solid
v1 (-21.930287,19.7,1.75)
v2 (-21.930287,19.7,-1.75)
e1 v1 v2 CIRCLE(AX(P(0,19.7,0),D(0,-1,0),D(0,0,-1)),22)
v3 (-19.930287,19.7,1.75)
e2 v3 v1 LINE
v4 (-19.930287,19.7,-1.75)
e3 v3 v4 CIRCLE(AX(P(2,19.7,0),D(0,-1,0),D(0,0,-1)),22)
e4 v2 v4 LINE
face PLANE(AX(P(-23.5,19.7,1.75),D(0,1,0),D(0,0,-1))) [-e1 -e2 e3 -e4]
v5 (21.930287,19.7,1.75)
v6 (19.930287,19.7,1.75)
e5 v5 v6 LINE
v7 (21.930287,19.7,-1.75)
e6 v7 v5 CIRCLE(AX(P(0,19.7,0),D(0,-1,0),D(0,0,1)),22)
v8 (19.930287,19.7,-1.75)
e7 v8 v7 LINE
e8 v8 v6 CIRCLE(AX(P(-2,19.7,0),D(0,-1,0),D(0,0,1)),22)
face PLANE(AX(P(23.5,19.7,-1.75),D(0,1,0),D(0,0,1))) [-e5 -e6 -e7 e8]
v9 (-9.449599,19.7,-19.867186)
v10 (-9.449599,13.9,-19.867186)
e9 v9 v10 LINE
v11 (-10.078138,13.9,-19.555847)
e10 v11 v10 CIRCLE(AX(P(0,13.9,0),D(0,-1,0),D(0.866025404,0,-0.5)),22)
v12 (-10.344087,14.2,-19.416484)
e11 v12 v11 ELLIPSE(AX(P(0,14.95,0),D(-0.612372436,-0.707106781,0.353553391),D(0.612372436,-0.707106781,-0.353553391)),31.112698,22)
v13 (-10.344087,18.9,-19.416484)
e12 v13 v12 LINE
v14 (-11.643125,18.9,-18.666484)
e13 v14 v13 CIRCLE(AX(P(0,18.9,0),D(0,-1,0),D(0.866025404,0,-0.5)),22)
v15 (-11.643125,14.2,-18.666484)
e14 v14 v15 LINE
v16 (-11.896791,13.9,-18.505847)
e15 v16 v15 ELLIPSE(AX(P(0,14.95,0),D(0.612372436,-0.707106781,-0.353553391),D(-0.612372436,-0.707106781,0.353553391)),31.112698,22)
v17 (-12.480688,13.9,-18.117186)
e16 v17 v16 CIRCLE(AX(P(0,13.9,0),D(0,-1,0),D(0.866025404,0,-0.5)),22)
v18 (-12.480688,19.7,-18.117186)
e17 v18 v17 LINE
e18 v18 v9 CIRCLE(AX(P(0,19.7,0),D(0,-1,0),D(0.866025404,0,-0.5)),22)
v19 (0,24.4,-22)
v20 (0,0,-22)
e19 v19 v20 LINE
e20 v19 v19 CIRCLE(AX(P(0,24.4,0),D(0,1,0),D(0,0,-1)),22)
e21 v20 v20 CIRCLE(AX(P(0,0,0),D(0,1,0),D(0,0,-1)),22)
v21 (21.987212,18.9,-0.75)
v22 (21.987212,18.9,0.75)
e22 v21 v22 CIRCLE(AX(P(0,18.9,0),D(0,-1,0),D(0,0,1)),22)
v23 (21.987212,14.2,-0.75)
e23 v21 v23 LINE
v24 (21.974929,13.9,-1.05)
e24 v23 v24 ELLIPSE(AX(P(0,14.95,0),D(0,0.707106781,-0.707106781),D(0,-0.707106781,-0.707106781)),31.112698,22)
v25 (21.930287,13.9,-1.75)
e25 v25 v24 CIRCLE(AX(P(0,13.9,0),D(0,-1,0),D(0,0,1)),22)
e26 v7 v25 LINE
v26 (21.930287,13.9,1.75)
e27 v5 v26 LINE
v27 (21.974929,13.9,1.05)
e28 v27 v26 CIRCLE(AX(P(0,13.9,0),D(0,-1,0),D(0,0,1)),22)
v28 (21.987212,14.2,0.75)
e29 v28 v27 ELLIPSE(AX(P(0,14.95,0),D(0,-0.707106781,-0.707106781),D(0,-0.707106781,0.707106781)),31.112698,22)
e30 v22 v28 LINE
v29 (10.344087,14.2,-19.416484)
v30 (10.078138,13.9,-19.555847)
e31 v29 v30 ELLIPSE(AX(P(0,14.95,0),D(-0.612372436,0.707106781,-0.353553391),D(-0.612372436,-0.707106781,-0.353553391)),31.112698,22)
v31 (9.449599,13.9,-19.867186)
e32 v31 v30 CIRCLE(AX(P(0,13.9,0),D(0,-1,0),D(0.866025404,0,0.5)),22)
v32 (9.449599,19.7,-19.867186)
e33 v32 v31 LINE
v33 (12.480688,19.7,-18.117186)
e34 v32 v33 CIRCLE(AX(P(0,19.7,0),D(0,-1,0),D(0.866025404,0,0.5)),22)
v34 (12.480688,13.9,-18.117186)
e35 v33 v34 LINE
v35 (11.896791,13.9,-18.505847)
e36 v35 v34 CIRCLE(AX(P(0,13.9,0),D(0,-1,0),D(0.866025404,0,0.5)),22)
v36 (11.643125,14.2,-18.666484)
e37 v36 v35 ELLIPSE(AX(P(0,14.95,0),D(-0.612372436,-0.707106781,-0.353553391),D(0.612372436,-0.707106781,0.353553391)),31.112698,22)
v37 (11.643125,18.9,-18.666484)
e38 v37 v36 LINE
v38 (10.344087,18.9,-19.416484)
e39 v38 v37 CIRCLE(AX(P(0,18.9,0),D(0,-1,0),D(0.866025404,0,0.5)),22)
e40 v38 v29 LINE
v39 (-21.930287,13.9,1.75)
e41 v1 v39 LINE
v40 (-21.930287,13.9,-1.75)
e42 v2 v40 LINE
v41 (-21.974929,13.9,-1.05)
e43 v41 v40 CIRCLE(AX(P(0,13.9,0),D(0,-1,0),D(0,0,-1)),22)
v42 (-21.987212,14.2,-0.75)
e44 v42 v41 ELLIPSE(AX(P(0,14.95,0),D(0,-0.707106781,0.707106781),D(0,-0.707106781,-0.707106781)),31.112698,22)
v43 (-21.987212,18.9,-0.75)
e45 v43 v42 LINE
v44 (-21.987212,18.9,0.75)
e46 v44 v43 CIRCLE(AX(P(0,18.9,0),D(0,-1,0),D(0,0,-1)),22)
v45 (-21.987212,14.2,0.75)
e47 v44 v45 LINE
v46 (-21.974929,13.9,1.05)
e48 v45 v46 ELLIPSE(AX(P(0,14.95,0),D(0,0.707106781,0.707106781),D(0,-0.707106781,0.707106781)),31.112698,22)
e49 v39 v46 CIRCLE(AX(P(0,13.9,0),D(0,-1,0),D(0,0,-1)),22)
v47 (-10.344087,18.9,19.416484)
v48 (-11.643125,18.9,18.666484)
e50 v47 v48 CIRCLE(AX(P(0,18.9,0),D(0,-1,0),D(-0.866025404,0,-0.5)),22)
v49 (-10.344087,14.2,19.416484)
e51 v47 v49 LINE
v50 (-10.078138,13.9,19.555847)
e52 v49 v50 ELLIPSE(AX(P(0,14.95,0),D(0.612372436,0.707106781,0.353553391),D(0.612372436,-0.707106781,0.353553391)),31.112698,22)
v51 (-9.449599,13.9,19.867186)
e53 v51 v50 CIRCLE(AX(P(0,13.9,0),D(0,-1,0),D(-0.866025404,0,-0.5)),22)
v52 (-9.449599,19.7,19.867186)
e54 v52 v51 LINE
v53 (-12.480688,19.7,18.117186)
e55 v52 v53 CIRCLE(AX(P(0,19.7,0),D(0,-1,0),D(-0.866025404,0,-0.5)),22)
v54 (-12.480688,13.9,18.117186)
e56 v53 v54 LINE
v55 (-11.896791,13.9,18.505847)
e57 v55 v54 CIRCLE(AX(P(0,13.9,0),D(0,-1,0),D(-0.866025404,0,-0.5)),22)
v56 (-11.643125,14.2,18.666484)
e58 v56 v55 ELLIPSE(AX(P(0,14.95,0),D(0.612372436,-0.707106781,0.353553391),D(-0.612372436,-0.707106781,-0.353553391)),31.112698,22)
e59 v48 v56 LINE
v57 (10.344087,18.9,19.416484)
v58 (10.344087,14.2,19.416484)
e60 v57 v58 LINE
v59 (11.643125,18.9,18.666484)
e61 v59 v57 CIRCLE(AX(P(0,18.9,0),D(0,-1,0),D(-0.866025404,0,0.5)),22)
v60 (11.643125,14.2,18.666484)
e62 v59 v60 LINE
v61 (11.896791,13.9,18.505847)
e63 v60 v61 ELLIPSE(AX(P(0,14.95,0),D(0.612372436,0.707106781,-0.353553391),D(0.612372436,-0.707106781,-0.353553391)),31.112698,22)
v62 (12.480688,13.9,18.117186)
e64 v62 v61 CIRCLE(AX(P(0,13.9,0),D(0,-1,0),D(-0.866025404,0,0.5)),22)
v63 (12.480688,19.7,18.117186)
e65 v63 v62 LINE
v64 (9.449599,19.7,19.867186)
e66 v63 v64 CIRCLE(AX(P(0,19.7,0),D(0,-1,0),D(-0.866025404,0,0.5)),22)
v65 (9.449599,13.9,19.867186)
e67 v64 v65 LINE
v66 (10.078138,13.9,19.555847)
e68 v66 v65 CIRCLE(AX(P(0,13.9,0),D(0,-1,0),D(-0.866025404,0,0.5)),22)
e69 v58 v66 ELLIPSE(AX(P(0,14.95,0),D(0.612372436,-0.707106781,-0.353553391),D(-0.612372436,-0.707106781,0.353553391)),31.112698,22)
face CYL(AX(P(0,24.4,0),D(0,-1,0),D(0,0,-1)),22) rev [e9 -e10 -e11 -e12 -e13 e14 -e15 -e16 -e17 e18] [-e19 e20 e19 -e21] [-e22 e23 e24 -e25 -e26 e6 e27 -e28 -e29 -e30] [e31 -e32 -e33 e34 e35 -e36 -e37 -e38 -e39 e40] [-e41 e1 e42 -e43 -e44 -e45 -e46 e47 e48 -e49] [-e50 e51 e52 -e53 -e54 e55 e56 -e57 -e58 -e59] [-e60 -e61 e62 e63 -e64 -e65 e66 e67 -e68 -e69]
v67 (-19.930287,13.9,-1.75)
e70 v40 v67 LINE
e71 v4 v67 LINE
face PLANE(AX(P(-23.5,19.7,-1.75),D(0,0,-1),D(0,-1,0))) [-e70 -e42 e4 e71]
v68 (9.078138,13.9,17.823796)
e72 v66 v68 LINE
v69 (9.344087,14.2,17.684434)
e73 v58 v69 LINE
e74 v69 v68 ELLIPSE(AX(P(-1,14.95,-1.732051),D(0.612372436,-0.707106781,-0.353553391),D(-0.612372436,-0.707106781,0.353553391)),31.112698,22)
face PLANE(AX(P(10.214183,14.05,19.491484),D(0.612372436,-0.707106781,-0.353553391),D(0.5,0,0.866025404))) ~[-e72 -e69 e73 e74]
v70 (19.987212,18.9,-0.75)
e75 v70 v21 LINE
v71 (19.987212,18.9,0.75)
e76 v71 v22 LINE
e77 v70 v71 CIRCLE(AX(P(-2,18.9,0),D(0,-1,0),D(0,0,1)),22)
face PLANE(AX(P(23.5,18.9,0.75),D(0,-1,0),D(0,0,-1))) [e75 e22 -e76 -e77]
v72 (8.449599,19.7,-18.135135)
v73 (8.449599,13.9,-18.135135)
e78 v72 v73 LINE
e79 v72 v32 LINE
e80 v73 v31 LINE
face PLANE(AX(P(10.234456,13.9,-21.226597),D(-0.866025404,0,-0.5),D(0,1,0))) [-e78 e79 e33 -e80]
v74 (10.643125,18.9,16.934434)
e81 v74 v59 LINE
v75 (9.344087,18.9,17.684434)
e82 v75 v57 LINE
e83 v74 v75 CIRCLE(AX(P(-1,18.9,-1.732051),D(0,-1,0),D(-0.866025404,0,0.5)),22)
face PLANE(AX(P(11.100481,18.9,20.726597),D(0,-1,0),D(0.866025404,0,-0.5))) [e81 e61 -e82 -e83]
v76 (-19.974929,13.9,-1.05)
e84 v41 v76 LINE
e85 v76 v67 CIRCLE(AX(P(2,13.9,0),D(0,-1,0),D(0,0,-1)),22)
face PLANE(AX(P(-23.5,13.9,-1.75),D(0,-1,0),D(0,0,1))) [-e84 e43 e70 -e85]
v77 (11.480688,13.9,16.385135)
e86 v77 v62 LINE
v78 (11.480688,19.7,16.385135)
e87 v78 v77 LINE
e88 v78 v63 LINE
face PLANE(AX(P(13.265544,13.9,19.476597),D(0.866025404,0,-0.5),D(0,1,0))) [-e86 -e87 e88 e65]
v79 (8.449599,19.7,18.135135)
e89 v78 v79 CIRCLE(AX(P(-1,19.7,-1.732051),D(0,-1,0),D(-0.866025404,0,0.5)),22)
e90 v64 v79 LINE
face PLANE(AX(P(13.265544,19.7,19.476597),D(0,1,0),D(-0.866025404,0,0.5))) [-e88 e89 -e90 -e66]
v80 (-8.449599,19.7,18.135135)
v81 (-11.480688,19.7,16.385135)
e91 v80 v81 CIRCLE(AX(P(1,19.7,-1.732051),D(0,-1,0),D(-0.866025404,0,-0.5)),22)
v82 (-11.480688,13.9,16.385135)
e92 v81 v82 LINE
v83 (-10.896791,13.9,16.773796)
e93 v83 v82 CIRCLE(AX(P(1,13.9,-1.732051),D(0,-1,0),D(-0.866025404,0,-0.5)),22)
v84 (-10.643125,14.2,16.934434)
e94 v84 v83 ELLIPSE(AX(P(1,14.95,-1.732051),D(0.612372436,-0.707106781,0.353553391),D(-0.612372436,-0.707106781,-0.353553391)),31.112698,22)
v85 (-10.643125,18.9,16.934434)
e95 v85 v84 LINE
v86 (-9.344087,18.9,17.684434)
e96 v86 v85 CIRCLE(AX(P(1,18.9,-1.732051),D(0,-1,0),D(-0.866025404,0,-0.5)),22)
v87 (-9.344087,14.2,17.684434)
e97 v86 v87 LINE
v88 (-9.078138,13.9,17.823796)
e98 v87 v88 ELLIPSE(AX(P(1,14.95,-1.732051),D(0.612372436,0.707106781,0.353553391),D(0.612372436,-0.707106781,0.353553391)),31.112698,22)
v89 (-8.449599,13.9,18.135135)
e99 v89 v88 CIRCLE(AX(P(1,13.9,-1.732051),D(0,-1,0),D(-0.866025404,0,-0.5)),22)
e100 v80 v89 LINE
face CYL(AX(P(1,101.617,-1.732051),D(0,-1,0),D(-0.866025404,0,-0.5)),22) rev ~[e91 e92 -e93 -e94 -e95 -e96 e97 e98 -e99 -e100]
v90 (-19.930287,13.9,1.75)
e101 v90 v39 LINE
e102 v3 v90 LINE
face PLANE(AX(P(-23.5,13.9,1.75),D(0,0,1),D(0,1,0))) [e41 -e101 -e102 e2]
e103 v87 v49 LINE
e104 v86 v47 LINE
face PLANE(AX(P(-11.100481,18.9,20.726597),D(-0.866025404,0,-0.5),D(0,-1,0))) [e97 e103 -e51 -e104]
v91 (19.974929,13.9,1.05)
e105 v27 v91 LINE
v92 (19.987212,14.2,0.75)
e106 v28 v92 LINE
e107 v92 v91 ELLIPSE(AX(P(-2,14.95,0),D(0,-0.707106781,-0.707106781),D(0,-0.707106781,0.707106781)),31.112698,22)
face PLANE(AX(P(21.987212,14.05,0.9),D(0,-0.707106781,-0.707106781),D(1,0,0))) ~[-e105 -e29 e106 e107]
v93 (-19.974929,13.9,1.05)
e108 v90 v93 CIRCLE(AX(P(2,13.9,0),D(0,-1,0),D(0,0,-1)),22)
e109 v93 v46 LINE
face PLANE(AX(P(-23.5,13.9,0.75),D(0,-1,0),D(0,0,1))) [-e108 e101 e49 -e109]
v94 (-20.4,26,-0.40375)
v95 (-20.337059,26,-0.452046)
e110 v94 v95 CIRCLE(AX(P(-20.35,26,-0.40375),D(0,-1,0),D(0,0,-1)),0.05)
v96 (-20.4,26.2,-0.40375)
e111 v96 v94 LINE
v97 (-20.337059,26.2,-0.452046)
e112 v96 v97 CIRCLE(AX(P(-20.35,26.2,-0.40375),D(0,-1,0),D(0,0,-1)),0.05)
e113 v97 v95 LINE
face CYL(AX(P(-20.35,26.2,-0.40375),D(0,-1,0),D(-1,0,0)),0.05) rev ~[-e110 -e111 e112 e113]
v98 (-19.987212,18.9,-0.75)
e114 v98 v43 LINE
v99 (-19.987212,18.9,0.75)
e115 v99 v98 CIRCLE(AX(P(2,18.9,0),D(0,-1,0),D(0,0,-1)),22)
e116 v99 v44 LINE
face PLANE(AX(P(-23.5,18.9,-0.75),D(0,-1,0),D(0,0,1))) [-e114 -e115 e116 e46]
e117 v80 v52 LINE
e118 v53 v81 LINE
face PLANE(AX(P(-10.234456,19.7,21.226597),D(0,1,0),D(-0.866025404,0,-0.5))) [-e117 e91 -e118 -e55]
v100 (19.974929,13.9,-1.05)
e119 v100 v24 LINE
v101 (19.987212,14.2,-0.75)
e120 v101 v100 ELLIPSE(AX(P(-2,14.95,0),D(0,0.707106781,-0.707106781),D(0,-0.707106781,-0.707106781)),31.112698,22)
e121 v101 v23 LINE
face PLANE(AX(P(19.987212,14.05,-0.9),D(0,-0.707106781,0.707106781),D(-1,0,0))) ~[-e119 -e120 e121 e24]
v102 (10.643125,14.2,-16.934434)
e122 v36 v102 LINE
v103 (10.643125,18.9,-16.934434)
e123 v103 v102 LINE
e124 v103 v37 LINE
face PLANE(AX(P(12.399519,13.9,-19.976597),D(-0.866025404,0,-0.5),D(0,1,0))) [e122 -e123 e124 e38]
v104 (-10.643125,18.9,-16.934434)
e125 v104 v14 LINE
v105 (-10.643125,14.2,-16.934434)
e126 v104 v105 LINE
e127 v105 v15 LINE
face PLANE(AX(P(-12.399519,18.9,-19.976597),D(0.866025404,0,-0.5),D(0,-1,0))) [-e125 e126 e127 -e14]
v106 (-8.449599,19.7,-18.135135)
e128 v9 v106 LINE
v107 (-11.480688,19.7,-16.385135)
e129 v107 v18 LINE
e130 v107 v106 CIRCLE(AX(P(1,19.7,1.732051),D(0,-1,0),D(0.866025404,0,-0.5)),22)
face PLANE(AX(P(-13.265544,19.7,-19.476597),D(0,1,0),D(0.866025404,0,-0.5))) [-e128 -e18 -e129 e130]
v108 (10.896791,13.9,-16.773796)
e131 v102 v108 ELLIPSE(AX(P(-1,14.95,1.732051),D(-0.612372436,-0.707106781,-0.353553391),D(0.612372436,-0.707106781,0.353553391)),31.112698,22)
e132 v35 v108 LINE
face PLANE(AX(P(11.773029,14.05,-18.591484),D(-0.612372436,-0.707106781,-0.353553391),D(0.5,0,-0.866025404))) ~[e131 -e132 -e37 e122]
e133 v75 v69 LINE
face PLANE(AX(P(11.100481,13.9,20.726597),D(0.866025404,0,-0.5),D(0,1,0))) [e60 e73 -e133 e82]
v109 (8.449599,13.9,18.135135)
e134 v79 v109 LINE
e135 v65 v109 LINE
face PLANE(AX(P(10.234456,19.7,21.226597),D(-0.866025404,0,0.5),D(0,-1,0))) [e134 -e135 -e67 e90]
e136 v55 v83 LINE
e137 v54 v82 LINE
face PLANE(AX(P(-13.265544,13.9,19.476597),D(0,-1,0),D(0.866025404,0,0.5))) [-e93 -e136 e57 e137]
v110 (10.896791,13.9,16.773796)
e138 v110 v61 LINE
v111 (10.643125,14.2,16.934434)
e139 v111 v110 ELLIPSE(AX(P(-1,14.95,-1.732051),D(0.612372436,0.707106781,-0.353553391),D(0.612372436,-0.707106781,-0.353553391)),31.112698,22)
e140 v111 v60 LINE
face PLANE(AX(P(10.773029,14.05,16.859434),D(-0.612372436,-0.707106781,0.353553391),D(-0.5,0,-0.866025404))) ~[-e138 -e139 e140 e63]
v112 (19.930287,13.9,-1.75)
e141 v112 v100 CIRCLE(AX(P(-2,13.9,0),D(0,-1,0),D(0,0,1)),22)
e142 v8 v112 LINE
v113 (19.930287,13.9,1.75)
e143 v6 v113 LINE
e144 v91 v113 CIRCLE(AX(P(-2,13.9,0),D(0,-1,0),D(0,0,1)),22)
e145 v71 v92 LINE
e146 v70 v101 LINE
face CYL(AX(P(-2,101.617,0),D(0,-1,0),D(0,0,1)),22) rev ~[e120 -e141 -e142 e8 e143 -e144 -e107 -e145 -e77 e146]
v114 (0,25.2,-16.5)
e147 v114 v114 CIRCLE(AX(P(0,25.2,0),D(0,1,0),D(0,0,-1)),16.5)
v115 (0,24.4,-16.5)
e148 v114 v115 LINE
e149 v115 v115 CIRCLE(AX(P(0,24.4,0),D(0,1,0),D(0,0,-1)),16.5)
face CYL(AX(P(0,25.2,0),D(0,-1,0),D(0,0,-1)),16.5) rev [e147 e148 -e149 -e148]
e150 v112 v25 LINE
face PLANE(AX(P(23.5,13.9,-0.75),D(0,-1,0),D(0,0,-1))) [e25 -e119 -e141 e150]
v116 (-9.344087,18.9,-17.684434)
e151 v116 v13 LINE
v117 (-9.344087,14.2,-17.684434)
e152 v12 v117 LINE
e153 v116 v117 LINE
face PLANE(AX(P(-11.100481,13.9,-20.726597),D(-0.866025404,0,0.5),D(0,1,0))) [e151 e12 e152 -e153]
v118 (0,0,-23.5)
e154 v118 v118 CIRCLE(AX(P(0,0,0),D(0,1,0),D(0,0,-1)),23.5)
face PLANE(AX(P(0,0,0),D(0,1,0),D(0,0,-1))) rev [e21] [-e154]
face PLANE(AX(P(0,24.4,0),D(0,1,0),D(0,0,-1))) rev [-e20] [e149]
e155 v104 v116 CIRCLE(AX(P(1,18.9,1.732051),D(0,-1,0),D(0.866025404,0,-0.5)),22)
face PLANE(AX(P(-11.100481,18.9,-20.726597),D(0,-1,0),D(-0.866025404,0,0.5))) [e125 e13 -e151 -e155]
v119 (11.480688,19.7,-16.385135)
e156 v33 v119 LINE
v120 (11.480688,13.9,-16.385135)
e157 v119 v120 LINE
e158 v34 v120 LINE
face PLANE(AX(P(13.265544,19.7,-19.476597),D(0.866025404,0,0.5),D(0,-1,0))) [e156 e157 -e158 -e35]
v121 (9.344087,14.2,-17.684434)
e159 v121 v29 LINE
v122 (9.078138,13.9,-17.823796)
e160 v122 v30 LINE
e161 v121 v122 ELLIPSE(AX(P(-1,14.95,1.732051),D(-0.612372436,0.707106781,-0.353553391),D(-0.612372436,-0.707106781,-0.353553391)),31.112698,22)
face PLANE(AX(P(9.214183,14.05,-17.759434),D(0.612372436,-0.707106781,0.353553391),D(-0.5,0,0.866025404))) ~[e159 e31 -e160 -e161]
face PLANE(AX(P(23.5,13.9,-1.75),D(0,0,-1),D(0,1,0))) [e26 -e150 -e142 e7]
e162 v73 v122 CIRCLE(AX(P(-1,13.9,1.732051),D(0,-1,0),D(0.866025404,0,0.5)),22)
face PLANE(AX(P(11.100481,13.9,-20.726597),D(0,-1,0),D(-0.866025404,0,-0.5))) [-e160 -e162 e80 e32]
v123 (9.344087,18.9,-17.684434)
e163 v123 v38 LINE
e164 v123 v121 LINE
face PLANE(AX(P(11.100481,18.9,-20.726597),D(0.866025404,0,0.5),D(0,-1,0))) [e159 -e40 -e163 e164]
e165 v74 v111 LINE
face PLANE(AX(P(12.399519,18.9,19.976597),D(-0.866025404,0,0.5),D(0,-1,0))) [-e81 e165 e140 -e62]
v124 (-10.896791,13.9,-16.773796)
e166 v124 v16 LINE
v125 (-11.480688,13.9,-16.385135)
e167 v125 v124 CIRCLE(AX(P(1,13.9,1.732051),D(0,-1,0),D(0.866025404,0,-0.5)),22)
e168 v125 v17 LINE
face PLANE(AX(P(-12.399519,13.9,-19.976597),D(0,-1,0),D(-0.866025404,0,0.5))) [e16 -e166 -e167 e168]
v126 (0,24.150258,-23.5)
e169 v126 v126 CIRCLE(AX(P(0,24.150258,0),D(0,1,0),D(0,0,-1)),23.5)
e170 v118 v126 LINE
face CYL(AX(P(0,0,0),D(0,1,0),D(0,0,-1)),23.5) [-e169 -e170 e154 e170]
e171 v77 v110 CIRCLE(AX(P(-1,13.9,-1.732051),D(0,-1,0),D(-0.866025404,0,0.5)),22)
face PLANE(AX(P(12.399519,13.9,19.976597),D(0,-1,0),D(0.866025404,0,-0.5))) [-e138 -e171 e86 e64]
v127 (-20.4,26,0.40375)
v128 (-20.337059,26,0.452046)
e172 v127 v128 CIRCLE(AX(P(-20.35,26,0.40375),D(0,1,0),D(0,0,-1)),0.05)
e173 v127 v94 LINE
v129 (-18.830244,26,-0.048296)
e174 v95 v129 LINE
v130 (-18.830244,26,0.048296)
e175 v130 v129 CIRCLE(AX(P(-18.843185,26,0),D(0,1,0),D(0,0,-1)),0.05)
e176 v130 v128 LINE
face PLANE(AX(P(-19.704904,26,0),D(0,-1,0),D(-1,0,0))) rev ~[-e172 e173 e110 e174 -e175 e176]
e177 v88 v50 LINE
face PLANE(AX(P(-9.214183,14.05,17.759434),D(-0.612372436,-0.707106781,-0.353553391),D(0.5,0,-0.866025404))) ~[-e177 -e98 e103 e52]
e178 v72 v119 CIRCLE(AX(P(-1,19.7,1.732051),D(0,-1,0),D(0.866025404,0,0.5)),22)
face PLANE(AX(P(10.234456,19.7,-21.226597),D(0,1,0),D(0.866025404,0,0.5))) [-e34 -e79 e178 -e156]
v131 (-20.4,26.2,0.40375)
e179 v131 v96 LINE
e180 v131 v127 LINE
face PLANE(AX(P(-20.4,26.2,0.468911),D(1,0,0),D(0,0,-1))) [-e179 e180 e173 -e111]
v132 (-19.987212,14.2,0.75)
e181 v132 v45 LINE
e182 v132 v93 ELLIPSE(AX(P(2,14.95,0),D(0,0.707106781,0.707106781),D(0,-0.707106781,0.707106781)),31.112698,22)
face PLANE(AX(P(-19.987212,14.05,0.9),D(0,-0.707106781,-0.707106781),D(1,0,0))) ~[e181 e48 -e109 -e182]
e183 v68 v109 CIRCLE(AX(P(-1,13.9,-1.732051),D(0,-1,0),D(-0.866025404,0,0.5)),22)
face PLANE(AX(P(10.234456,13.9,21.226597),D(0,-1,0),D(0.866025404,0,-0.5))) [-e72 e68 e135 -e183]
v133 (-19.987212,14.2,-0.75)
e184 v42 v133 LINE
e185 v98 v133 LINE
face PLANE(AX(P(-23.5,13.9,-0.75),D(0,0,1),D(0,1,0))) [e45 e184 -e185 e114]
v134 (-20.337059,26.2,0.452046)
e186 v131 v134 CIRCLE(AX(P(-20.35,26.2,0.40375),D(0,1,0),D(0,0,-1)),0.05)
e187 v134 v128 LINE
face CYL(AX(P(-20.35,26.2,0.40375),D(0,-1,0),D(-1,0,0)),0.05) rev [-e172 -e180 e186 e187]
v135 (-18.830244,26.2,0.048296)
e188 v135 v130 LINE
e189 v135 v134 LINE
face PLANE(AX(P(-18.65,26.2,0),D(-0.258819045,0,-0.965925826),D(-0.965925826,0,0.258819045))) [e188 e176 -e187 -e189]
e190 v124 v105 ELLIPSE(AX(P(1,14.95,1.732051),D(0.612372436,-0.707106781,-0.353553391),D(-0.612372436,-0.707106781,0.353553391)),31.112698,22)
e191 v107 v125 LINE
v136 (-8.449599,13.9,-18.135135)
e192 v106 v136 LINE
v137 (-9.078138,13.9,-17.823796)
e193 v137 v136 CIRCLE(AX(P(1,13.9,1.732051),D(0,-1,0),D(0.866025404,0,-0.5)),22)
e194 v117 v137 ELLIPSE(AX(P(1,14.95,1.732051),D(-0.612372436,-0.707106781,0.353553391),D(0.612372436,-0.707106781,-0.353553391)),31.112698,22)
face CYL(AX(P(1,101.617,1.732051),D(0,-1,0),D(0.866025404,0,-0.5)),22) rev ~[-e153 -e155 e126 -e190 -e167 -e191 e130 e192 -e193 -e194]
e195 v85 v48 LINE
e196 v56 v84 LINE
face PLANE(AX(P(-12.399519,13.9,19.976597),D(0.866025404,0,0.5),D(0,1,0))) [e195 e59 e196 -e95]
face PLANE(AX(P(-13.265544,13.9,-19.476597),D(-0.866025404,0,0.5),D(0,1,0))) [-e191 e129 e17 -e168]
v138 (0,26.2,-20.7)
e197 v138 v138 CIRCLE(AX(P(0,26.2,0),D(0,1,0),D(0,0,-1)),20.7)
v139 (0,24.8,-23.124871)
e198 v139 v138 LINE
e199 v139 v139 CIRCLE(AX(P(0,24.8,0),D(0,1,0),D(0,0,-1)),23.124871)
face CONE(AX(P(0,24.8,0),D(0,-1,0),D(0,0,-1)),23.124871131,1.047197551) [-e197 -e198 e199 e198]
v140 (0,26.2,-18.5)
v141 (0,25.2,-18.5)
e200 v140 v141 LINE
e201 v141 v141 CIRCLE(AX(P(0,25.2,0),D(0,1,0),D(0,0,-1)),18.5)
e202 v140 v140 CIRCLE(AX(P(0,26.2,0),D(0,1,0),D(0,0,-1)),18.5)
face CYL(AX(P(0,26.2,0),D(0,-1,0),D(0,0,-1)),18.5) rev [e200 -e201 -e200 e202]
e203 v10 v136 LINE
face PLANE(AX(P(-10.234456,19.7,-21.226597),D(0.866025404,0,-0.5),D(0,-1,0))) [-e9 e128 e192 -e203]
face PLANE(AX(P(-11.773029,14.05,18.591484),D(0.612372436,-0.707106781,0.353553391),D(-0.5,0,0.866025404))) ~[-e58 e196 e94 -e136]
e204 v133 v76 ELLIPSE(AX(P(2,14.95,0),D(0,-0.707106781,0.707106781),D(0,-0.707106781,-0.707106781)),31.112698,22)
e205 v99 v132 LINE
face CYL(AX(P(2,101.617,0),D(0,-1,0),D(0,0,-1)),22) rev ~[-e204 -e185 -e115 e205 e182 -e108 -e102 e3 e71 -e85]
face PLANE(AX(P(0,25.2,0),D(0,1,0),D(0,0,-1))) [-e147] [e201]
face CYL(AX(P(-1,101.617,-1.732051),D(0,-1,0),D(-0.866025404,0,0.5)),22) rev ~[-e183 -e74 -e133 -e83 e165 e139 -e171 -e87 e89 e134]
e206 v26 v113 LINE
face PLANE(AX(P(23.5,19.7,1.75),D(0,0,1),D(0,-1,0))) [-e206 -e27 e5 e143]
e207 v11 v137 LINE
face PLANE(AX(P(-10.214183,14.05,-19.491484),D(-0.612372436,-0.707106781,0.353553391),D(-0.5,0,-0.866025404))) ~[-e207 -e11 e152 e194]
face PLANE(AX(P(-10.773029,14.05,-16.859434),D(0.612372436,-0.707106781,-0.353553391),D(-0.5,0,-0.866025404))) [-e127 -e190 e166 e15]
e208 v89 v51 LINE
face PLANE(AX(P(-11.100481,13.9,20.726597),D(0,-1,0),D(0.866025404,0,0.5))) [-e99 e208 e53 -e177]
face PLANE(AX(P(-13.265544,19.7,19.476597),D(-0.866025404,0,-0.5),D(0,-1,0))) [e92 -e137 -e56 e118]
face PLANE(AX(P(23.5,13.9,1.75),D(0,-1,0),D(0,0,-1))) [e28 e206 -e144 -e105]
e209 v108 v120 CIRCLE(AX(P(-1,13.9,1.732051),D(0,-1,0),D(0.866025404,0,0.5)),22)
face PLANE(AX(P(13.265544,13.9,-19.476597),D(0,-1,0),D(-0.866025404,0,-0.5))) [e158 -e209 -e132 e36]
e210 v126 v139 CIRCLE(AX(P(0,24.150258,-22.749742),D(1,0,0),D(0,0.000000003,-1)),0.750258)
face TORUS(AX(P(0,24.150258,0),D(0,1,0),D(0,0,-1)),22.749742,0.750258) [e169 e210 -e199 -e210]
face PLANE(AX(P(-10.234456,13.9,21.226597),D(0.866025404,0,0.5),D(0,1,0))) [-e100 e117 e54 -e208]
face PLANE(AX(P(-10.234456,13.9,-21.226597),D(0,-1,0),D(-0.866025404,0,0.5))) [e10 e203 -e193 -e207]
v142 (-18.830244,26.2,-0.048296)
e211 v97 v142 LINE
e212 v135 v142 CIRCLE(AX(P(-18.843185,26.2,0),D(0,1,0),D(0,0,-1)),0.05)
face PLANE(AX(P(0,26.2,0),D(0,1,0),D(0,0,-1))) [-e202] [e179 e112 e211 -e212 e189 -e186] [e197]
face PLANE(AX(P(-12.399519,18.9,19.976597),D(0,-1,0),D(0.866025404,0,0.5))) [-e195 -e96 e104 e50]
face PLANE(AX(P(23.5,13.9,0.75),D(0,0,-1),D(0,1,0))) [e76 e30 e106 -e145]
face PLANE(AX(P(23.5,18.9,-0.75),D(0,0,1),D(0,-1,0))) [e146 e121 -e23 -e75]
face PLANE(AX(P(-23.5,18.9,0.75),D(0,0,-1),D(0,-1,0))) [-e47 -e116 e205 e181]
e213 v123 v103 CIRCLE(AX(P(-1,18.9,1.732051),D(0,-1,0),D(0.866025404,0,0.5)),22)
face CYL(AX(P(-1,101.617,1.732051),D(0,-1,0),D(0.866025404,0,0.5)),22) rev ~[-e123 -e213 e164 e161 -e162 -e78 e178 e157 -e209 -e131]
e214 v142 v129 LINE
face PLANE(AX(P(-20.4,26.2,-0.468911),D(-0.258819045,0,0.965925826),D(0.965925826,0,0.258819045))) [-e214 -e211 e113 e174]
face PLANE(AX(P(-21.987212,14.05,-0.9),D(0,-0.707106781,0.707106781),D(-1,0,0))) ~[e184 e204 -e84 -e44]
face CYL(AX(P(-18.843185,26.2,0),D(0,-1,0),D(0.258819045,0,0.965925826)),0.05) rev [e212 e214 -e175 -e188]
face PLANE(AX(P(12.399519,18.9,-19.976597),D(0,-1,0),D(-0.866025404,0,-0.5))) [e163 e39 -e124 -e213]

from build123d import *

# Parameters (mm, degrees)
EXTRUDE_5_REACH          = 62.717
EXTRUDE_5_START_RADIUS   = 22
EXTRUDE_5_END_RADIUS     = 22
PATTERN_CIRCULAR_2_COUNT = 6
CUT_EXTRUDE_1_DEPTH      = 0.2
FILLET_1_R               = 0.05
CHAMFER_1_SIZE           = 0.3


with BuildPart() as part:
    # 草图1 → 旋转1 (revolve)
    with BuildSketch(Plane.XY, mode=Mode.PRIVATE) as revolve_1_sk:
        with BuildLine():
            Line((-22, 0), (-23.5, 0))
            Line((-23.5, 0), (-23.5, 24.150257739))
            ThreePointArc((-23.5, 24.150257739), (-23.399484522, 24.525386608), (-23.124871131, 24.8))
            Line((-23.124871131, 24.8), (-20.7, 26.2))
            Line((-20.7, 26.2), (-18.5, 26.2))
            Line((-18.5, 26.2), (-18.5, 25.2))
            Line((-18.5, 25.2), (-16.5, 25.2))
            Line((-16.5, 25.2), (-16.5, 24.4))
            Line((-16.5, 24.4), (-22, 24.4))
            Line((-22, 24.4), (-22, 0))
        make_face()
    revolve(revolve_1_sk.sketch.rotate(Axis((0, 0, 0), (0, 1, 0)), 270), axis=Axis((0, 0, 0), (0, 1, 0)))

    # 凸台-拉伸5: from a cylinder face, 62.717 long prism both ways, kept between that surface and its translate by the depth
    extrude_5_start = Plane(origin=(0, 16.4, 0), z_dir=(0, -1, 0)) * Cylinder(EXTRUDE_5_START_RADIUS, 170.434, mode=Mode.PRIVATE)
    extrude_5_end = Plane(origin=(2, 16.4, 0), z_dir=(0, -1, 0)) * Cylinder(EXTRUDE_5_END_RADIUS, 170.434, mode=Mode.PRIVATE)
    # 草图5 → 凸台-拉伸5 (add, from a surface)
    with BuildSketch(Plane.ZY.offset(23.5), mode=Mode.PRIVATE) as extrude_5_sk1:
        Polygon((-0.75, 13.9), (-0.75, 18.9), (0.75, 18.9), (0.75, 13.9), (1.75, 13.9), (1.75, 19.7), (-1.75, 19.7), (-1.75, 13.9), align=None)
    extrude_5_tool1 = extrude(extrude_5_sk1.sketch, amount=EXTRUDE_5_REACH, both=True, mode=Mode.PRIVATE)
    extrude_5 = ((extrude_5_tool1 & extrude_5_start) - extrude_5_end).solids().sort_by_distance((-20.95875, 16.4, -0.817742))[0]
    add(extrude_5)

    # 阵列(圆周)2: 凸台-拉伸5 ×6 about axis
    pattern_circular_2_axis = Axis((0, 0, 0), (0, 1, 0))
    for i in range(1, PATTERN_CIRCULAR_2_COUNT):
        add(extrude_5.rotate(pattern_circular_2_axis, i * 360 / PATTERN_CIRCULAR_2_COUNT))

    # 草图6 → 切除-拉伸1 (cut)
    with BuildSketch(Plane(origin=(0, 26.2, 0), x_dir=(1, 0, 0), z_dir=(0, 1, 0))):
        Polygon((-20.4, 0.468911087), (-18.65, 0), (-20.4, -0.468911087), align=None)
    extrude(amount=-CUT_EXTRUDE_1_DEPTH, mode=Mode.SUBTRACT)

    # 圆角1
    fillet_1_edges = [part.edges().sort_by_distance(p)[0] for p in [
        (-20.4, 26.1, 0.468911087),
        (-20.4, 26.1, -0.468911087),
        (-18.65, 26.1, 0),
    ]]
    fillet(fillet_1_edges, radius=FILLET_1_R)

    # 倒角1
    chamfer_1_edges = [part.edges().sort_by_distance(p)[0] for p in [
        (11.143125149, 13.9, 17.800458913),
        (9.844087043, 13.9, 18.550458913),
        (-9.844087043, 13.9, 18.550458913),
        (-11.143125149, 13.9, 17.800458913),
        (-20.987212193, 13.9, 0.75),
        (-20.987212193, 13.9, -0.75),
        (-11.143125149, 13.9, -17.800458913),
        (-9.844087043, 13.9, -18.550458913),
        (9.844087043, 13.9, -18.550458913),
        (11.143125149, 13.9, -17.800458913),
        (20.987212193, 13.9, -0.75),
        (20.987212193, 13.9, 0.75),
    ]]
    chamfer(chamfer_1_edges, length=CHAMFER_1_SIZE)


solid = part.part
